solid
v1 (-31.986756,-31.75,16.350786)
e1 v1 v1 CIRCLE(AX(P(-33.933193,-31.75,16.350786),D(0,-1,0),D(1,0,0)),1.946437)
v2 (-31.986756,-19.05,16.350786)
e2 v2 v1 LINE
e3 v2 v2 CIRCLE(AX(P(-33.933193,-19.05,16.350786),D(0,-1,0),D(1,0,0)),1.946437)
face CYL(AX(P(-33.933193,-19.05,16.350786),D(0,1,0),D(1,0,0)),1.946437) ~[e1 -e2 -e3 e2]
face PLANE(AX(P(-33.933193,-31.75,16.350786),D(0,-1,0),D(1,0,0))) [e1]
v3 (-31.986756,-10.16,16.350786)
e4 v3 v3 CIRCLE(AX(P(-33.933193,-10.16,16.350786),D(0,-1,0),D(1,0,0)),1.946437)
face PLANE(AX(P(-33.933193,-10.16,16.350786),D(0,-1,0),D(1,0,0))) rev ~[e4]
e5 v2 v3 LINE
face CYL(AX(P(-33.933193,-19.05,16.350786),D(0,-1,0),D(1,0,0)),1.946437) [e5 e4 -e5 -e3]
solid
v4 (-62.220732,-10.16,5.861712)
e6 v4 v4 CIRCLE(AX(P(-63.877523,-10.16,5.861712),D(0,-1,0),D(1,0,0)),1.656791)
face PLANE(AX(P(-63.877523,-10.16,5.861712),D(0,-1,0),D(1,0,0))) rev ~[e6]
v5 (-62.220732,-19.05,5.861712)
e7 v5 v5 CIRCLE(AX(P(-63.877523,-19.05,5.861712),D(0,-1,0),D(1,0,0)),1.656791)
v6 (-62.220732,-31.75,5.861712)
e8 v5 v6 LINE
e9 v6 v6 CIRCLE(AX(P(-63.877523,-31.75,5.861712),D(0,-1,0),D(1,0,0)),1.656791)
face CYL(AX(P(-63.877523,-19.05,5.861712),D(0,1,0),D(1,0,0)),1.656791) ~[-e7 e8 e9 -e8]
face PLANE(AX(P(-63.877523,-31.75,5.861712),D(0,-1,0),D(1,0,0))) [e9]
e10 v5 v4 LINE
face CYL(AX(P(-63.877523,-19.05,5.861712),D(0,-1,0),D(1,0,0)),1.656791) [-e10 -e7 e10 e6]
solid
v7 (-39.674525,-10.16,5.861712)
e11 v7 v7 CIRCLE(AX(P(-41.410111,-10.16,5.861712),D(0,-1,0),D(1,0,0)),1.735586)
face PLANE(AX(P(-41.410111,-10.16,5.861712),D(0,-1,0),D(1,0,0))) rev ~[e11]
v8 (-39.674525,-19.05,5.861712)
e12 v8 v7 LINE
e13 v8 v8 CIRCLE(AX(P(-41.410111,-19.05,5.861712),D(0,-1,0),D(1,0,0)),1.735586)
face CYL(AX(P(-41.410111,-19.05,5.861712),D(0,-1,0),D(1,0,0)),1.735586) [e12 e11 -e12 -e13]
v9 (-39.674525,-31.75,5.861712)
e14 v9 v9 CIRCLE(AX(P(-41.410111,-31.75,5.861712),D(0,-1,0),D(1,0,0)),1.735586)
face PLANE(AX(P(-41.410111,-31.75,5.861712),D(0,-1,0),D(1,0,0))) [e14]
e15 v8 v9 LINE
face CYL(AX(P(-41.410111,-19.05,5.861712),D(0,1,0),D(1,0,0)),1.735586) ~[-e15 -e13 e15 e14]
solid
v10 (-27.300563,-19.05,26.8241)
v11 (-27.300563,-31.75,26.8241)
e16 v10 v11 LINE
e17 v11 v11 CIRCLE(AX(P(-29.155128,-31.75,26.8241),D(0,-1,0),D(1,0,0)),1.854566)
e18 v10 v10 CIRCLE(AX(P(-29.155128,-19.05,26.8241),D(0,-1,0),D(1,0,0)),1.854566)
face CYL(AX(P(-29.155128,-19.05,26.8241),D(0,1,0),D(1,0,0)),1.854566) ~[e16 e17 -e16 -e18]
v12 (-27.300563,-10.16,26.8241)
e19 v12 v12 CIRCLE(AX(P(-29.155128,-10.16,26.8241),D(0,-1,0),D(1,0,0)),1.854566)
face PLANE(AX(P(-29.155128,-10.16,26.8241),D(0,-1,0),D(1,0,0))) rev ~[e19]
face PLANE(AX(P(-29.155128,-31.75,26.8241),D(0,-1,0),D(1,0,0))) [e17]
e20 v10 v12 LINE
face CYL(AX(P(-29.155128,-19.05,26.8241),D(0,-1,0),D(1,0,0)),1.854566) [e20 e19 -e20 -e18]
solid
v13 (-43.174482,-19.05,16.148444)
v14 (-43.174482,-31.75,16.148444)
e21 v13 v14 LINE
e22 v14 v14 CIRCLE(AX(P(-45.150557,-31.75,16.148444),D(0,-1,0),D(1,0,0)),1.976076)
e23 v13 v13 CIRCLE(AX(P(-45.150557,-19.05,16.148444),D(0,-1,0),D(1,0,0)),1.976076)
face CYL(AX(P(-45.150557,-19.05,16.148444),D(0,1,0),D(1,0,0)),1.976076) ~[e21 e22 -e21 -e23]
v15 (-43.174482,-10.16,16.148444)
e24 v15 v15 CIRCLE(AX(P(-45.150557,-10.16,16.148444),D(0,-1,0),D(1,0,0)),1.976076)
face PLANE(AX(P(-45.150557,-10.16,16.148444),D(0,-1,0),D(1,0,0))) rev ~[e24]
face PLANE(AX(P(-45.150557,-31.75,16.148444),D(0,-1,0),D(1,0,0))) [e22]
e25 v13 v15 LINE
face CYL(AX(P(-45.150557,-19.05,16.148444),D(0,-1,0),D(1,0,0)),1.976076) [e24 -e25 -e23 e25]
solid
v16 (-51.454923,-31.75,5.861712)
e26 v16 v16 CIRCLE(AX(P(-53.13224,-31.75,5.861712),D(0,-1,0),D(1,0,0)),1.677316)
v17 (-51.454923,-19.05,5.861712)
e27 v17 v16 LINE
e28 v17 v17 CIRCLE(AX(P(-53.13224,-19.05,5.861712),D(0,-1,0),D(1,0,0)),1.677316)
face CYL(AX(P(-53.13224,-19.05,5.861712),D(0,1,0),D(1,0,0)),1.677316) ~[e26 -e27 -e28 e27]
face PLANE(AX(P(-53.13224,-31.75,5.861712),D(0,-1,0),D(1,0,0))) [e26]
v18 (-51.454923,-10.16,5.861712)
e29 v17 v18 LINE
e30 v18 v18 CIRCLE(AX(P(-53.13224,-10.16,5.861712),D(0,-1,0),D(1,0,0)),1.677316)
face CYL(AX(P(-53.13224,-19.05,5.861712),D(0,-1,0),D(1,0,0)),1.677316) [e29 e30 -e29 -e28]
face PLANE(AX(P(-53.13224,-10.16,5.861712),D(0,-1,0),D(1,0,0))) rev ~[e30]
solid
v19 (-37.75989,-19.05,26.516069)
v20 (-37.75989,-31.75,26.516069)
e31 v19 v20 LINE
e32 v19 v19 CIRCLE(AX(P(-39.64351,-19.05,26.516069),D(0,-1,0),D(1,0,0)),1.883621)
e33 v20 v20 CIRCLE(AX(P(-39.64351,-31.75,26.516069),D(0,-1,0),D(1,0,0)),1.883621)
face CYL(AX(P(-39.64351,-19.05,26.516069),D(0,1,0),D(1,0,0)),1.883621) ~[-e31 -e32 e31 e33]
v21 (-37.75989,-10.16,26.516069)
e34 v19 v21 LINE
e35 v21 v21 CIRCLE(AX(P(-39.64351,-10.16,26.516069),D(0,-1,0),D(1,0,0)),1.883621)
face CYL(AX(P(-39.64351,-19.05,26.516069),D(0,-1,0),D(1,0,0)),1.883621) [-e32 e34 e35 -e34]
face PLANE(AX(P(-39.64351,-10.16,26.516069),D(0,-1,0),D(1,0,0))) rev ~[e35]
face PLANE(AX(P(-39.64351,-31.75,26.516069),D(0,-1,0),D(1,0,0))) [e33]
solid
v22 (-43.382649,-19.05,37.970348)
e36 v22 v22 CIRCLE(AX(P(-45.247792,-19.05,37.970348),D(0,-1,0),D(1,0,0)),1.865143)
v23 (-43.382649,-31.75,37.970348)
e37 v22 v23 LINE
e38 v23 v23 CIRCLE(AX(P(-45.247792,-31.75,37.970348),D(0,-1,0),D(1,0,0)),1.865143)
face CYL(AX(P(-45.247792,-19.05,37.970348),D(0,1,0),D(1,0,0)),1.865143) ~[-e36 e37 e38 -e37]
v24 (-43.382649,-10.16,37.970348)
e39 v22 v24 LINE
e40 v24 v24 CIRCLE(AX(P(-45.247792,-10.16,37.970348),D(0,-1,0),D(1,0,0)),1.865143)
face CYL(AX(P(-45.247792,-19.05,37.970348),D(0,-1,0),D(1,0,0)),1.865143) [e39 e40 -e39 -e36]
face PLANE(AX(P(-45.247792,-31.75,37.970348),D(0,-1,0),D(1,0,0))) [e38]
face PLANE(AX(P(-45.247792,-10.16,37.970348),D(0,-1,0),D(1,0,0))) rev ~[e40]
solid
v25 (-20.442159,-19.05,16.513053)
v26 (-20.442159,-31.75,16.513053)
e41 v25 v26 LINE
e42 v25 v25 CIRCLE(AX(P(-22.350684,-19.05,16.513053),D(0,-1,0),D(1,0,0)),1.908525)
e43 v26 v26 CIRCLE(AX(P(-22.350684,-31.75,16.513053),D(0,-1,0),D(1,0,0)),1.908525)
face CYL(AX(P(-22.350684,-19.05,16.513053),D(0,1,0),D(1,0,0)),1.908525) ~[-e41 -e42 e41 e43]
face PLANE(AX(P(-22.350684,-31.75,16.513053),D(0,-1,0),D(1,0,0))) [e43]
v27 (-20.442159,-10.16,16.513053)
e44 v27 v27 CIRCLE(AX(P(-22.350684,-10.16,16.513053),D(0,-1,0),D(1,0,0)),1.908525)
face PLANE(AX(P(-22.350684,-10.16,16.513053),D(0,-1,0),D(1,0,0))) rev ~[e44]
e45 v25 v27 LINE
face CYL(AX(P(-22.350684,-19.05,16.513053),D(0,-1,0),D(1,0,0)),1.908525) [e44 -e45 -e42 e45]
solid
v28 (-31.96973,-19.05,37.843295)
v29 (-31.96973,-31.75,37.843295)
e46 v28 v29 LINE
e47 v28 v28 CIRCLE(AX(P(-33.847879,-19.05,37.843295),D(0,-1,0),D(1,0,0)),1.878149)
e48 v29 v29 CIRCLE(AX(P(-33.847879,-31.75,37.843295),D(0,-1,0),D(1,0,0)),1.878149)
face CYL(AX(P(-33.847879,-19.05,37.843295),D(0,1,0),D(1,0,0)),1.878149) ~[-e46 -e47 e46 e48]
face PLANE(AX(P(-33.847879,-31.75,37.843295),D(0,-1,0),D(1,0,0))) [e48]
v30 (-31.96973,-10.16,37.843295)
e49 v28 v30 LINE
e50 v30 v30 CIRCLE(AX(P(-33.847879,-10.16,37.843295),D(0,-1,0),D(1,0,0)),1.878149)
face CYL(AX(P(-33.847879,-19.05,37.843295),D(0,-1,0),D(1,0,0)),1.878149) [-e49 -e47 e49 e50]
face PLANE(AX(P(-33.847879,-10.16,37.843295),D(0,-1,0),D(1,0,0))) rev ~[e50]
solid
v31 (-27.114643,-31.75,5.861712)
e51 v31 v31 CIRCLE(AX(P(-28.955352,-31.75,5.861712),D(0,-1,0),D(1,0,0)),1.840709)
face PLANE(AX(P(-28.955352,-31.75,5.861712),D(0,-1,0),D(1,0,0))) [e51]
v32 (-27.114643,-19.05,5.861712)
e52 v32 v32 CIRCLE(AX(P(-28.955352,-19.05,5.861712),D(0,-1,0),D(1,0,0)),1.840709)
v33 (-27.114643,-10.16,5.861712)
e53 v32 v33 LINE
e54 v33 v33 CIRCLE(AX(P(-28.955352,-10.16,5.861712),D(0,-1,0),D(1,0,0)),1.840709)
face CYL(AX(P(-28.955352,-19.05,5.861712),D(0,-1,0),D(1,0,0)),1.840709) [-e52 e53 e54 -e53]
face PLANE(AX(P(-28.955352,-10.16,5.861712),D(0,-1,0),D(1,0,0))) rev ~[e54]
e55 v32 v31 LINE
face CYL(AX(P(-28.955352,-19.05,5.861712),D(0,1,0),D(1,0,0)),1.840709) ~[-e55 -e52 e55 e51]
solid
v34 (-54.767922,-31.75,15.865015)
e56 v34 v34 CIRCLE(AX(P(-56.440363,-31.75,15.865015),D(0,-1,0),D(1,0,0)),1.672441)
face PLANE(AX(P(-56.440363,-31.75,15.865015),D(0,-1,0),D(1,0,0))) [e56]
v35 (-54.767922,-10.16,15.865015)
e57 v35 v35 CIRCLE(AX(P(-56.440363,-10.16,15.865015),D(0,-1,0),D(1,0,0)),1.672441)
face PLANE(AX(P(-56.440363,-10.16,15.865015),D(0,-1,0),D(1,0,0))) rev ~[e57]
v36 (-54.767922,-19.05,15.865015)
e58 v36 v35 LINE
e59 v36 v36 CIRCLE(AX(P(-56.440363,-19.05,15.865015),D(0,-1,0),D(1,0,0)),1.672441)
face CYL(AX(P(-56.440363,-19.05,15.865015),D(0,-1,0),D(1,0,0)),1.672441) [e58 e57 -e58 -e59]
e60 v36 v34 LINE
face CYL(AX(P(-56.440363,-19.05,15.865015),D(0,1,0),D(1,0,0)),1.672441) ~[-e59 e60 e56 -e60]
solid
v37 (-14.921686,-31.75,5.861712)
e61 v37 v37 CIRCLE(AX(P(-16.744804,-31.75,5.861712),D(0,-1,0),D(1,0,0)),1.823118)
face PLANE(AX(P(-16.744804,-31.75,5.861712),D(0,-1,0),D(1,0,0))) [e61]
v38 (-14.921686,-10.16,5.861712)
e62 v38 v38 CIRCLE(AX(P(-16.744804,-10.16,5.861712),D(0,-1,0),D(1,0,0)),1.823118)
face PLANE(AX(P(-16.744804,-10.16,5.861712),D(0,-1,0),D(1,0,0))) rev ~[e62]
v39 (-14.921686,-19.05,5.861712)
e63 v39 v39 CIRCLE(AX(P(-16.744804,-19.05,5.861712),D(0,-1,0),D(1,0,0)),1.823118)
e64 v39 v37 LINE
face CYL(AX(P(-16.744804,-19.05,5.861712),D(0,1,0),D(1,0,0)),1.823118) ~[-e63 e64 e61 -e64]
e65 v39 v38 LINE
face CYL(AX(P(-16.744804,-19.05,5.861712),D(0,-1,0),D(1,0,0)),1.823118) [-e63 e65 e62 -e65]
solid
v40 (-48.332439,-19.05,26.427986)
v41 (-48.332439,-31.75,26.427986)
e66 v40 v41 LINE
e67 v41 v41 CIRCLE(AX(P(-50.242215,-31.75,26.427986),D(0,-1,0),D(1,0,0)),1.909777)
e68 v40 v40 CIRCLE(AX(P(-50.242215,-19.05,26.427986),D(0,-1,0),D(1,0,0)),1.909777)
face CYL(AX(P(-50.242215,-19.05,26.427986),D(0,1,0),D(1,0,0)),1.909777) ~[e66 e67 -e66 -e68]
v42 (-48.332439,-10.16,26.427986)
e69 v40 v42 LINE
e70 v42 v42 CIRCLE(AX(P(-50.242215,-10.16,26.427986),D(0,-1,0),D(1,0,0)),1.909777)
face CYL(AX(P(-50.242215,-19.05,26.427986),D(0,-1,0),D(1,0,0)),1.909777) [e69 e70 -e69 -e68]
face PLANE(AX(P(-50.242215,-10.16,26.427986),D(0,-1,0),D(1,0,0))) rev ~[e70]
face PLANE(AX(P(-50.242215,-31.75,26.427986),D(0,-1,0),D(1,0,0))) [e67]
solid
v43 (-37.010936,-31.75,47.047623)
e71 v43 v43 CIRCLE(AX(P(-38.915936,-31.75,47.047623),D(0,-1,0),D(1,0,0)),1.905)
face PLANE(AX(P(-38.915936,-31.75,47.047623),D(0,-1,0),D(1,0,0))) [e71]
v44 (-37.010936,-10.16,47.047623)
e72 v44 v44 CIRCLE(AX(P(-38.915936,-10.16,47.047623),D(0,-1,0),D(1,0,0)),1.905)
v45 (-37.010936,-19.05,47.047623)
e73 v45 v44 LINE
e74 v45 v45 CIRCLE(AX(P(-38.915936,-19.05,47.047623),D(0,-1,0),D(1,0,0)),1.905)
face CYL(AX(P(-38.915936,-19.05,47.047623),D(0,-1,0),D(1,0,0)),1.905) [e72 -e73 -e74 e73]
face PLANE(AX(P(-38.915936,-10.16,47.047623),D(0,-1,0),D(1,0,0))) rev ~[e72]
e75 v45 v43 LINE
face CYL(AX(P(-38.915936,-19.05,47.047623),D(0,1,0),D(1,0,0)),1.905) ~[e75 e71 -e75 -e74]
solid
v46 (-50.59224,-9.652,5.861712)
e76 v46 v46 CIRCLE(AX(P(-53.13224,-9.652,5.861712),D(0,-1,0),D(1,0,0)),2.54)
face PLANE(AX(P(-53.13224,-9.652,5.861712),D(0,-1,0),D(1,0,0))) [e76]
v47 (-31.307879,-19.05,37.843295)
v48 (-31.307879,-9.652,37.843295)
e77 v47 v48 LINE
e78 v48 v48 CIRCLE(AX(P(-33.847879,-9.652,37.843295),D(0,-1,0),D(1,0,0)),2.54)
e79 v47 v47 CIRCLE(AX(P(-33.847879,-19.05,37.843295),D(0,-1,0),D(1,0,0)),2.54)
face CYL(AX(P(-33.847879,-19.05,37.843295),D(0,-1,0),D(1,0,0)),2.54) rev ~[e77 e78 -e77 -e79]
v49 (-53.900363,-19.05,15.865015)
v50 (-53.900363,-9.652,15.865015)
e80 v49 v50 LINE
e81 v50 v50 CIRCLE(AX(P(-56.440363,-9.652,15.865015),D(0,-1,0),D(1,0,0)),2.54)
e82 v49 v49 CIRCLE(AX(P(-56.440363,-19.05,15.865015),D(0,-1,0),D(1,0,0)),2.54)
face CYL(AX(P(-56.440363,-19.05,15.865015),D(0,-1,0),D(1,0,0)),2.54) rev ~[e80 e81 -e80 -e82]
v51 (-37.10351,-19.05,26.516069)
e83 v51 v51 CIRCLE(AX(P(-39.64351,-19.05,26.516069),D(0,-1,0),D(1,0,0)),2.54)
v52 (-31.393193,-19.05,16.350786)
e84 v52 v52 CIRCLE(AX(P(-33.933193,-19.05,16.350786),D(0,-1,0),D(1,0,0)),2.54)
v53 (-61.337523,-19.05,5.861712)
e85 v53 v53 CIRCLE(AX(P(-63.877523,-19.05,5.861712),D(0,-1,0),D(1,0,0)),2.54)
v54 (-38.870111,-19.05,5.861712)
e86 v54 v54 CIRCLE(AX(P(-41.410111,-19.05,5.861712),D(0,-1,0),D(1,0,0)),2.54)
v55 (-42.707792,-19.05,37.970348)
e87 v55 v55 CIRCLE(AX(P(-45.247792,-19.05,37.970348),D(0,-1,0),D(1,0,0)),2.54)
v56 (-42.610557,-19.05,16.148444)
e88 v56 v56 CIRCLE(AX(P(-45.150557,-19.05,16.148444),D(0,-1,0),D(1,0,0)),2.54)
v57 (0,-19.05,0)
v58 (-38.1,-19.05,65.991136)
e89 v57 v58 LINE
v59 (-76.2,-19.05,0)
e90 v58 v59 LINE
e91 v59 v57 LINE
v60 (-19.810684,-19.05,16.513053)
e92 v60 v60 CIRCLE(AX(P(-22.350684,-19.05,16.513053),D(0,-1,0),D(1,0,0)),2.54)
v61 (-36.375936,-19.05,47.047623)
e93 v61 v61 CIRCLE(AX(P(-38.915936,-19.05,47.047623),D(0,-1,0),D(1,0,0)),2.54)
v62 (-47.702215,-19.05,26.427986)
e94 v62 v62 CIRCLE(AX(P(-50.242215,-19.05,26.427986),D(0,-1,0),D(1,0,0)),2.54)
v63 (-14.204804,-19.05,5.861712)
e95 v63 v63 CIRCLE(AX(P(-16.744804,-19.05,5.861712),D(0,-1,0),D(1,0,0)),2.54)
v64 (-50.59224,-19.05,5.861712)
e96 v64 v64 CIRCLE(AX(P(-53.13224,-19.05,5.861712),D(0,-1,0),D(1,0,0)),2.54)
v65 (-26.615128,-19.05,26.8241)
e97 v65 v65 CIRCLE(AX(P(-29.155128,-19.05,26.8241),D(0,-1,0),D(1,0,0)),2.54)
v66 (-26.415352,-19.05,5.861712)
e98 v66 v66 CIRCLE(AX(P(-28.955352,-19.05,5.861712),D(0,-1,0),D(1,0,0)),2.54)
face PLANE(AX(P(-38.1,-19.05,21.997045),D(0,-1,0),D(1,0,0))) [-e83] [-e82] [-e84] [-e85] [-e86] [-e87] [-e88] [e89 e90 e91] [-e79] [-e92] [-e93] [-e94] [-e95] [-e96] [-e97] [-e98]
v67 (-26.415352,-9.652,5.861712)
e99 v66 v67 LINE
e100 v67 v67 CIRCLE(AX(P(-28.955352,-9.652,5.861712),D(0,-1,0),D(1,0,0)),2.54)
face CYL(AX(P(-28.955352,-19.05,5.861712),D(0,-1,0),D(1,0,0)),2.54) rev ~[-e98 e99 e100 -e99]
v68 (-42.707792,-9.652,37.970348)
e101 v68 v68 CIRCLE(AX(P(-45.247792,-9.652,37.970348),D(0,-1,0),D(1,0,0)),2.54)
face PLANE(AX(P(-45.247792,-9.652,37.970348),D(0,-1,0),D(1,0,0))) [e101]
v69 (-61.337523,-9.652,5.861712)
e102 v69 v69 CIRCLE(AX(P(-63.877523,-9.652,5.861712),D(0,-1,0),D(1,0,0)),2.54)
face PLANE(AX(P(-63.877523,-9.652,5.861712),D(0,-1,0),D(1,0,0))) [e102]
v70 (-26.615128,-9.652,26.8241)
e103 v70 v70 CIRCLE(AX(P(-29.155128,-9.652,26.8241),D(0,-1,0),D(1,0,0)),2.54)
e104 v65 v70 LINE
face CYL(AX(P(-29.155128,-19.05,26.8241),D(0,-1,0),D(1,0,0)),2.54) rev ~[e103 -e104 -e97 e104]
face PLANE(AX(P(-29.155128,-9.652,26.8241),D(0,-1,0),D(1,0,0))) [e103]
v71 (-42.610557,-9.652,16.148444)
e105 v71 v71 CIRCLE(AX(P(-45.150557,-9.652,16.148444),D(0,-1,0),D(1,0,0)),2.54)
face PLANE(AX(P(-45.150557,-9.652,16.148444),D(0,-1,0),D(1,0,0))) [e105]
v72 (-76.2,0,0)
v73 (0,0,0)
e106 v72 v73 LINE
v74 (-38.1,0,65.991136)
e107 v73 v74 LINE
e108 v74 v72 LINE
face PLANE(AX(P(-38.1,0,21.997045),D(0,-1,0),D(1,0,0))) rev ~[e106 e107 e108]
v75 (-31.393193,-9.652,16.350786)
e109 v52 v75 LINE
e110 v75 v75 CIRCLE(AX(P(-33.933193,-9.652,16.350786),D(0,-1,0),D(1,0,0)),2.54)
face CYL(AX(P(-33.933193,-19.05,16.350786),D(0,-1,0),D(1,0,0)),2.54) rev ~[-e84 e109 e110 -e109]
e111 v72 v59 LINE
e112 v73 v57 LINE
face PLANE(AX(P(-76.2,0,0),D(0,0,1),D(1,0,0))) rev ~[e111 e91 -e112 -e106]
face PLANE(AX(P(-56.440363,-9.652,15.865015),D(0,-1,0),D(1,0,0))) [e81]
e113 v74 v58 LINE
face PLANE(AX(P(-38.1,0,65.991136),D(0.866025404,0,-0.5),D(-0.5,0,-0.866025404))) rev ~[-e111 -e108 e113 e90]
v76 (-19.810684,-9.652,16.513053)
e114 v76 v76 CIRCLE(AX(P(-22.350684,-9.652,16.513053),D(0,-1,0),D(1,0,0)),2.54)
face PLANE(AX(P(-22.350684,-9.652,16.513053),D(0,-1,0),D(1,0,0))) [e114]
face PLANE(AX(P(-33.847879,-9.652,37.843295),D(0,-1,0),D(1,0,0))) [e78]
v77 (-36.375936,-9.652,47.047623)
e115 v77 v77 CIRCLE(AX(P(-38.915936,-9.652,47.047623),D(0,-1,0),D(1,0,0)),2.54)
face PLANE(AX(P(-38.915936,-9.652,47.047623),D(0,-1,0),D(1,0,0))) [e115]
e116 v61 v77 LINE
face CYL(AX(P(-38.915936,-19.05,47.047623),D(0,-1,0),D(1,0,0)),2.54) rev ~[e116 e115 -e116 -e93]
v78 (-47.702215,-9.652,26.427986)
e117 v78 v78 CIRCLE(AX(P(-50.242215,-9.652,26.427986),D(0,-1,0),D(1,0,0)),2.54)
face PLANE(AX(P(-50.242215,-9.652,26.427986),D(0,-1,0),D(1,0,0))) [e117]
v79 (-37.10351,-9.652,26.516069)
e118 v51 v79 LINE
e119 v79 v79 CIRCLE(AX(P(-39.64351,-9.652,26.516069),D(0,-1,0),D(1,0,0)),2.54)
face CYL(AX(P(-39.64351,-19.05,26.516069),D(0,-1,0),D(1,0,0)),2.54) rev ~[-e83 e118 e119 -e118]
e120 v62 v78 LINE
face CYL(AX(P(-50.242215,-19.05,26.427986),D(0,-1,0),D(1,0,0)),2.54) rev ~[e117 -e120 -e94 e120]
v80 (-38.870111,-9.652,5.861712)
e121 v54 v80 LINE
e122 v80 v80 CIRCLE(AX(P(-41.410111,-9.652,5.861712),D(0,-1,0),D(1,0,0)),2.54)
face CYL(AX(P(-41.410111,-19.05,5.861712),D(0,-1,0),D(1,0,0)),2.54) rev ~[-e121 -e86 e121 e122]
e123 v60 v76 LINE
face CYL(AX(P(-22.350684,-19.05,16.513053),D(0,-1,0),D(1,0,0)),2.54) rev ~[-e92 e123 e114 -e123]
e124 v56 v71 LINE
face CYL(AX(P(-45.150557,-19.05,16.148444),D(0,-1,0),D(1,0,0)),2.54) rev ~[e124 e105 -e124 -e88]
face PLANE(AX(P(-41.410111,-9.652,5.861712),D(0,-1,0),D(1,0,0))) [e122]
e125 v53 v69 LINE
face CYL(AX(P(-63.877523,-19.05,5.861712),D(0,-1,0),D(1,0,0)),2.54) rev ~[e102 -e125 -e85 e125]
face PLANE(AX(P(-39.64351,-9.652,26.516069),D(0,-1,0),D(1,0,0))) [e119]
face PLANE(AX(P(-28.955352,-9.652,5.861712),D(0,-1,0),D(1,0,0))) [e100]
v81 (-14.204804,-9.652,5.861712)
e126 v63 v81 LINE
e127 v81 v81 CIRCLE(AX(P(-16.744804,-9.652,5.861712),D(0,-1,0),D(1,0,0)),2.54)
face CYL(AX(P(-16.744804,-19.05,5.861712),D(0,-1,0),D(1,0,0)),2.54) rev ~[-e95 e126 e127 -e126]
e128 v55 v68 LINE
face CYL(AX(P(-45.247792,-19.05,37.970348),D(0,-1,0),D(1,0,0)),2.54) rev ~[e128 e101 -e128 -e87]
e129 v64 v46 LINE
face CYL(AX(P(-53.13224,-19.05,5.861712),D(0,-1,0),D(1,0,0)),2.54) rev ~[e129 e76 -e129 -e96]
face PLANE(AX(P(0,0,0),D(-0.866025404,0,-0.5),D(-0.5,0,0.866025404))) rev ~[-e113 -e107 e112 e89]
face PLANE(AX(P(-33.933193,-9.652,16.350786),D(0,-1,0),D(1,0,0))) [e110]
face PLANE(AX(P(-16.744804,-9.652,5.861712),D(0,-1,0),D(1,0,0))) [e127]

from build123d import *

# Parameters (mm, degrees)
F1_DEPTH       = 19.05
F2_R           = 2.54
F3_DEPTH       = 9.398
F4_R           = 2.54
F5_DEPTH       = 9.398
F6_R           = 2.54
F7_DEPTH       = 9.398
F8_R           = 2.54
F9_DEPTH       = 9.398
F10_R          = 2.54
F11_DEPTH      = 9.398
F12_R          = 1.905
F13_DEPTH      = 8.89
F13_DEPTH_BACK = 12.7
F14_R          = 1.8231175901
F15_DEPTH      = 8.89
F15_DEPTH_BACK = 12.7
F14_R_2        = 1.8407088367
F14_R_3        = 1.7355856223
F14_R_4        = 1.6773164988
F14_R_5        = 1.6567908002
F14_R_6        = 1.8651431194
F14_R_7        = 1.8781487424
F14_R_8        = 1.9097768469
F14_R_9        = 1.8836206477
F14_R_10       = 1.6724408245
F14_R_11       = 1.9760756437
F14_R_12       = 1.9464372374
F14_R_13       = 1.9085246281
F14_R_14       = 1.8545655977


with BuildPart() as f1:
    # F0 (on Front) → F1 (new body)
    with BuildSketch(Plane.XZ):
        Polygon((-38.1, 65.9911357684), (-76.2, 0), (0, 0), align=None)
    extrude(amount=F1_DEPTH)

    # F2 (on face) → F3 (cut)
    with BuildSketch(Plane.XZ.offset(19.05)):
        with Locations((-63.8775229454, 5.8617116883)):
            Circle(F2_R)
        with Locations((-53.1322397292, 5.8617116883)):
            Circle(F2_R)
        with Locations((-41.4101108909, 5.8617116883)):
            Circle(F2_R)
        with Locations((-28.9553515613, 5.8617116883)):
            Circle(F2_R)
        with Locations((-16.7448036373, 5.8617116883)):
            Circle(F2_R)
    extrude(amount=-F3_DEPTH, mode=Mode.SUBTRACT)

    # F4 (on face) → F5 (cut)
    with BuildSketch(Plane.XZ.offset(19.05)):
        with Locations((-22.3506838083, 16.5130533278)):
            Circle(F4_R)
        with Locations((-33.9331932472, 16.3507863745)):
            Circle(F4_R)
        with Locations((-45.1505574905, 16.148444045)):
            Circle(F4_R)
        with Locations((-56.4403630179, 15.8650148127)):
            Circle(F4_R)
    extrude(amount=-F5_DEPTH, mode=Mode.SUBTRACT)

    # F6 (on face) → F7 (cut)
    with BuildSketch(Plane.XZ.offset(19.05)):
        with Locations((-50.242215395, 26.4279861003)):
            Circle(F6_R)
        with Locations((-39.643510285, 26.5160694736)):
            Circle(F6_R)
        with Locations((-29.1551282548, 26.8241004757)):
            Circle(F6_R)
    extrude(amount=-F7_DEPTH, mode=Mode.SUBTRACT)

    # F8 (on face) → F9 (cut)
    with BuildSketch(Plane.XZ.offset(19.05)):
        with Locations((-45.2477921476, 37.9703484034)):
            Circle(F8_R)
        with Locations((-33.8478787245, 37.8432946619)):
            Circle(F8_R)
    extrude(amount=-F9_DEPTH, mode=Mode.SUBTRACT)

    # F10 (on face) → F11 (cut)
    with BuildSketch(Plane.XZ.offset(19.05)):
        with Locations((-38.9159359038, 47.0476225019)):
            Circle(F10_R)
    extrude(amount=-F11_DEPTH, mode=Mode.SUBTRACT)


with BuildPart() as f13:
    # F12 (on face) → F13 (new body, two sides)
    with BuildSketch(Plane.XZ.offset(19.05)) as f13_sk:
        with Locations((-38.9159359038, 47.0476225019)):
            Circle(F12_R)
    extrude(amount=-F13_DEPTH)
    extrude(f13_sk.sketch, amount=F13_DEPTH_BACK)


with BuildPart() as f15:
    # F14 (on face) → F15 (new body, two sides)
    with BuildSketch(Plane.XZ.offset(19.05)) as f15_sk:
        with Locations((-16.7448036373, 5.8617116883)):
            Circle(F14_R)
    extrude(amount=-F15_DEPTH)
    extrude(f15_sk.sketch, amount=F15_DEPTH_BACK)


with BuildPart() as f15b:
    # F14 (on face) → F15, piece 2 (new body, two sides)
    with BuildSketch(Plane.XZ.offset(19.05)) as f15_2_sk:
        with Locations((-28.9553515613, 5.8617116883)):
            Circle(F14_R_2)
    extrude(amount=-F15_DEPTH)
    extrude(f15_2_sk.sketch, amount=F15_DEPTH_BACK)


with BuildPart() as f15c:
    # F14 (on face) → F15, piece 3 (new body, two sides)
    with BuildSketch(Plane.XZ.offset(19.05)) as f15_3_sk:
        with Locations((-41.4101108909, 5.8617116883)):
            Circle(F14_R_3)
    extrude(amount=-F15_DEPTH)
    extrude(f15_3_sk.sketch, amount=F15_DEPTH_BACK)


with BuildPart() as f15d:
    # F14 (on face) → F15, piece 4 (new body, two sides)
    with BuildSketch(Plane.XZ.offset(19.05)) as f15_4_sk:
        with Locations((-53.1322397292, 5.8617116883)):
            Circle(F14_R_4)
    extrude(amount=-F15_DEPTH)
    extrude(f15_4_sk.sketch, amount=F15_DEPTH_BACK)


with BuildPart() as f15e:
    # F14 (on face) → F15, piece 5 (new body, two sides)
    with BuildSketch(Plane.XZ.offset(19.05)) as f15_5_sk:
        with Locations((-63.8775229454, 5.8617116883)):
            Circle(F14_R_5)
    extrude(amount=-F15_DEPTH)
    extrude(f15_5_sk.sketch, amount=F15_DEPTH_BACK)


with BuildPart() as f15f:
    # F14 (on face) → F15, piece 6 (new body, two sides)
    with BuildSketch(Plane.XZ.offset(19.05)) as f15_6_sk:
        with Locations((-45.2477921476, 37.9703484034)):
            Circle(F14_R_6)
    extrude(amount=-F15_DEPTH)
    extrude(f15_6_sk.sketch, amount=F15_DEPTH_BACK)


with BuildPart() as f15g:
    # F14 (on face) → F15, piece 7 (new body, two sides)
    with BuildSketch(Plane.XZ.offset(19.05)) as f15_7_sk:
        with Locations((-33.8478787245, 37.8432946619)):
            Circle(F14_R_7)
    extrude(amount=-F15_DEPTH)
    extrude(f15_7_sk.sketch, amount=F15_DEPTH_BACK)


with BuildPart() as f15h:
    # F14 (on face) → F15, piece 8 (new body, two sides)
    with BuildSketch(Plane.XZ.offset(19.05)) as f15_8_sk:
        with Locations((-50.242215395, 26.4279861003)):
            Circle(F14_R_8)
    extrude(amount=-F15_DEPTH)
    extrude(f15_8_sk.sketch, amount=F15_DEPTH_BACK)


with BuildPart() as f15i:
    # F14 (on face) → F15, piece 9 (new body, two sides)
    with BuildSketch(Plane.XZ.offset(19.05)) as f15_9_sk:
        with Locations((-39.643510285, 26.5160694736)):
            Circle(F14_R_9)
    extrude(amount=-F15_DEPTH)
    extrude(f15_9_sk.sketch, amount=F15_DEPTH_BACK)


with BuildPart() as f15j:
    # F14 (on face) → F15, piece 10 (new body, two sides)
    with BuildSketch(Plane.XZ.offset(19.05)) as f15_10_sk:
        with Locations((-56.4403630179, 15.8650148127)):
            Circle(F14_R_10)
    extrude(amount=-F15_DEPTH)
    extrude(f15_10_sk.sketch, amount=F15_DEPTH_BACK)


with BuildPart() as f15k:
    # F14 (on face) → F15, piece 11 (new body, two sides)
    with BuildSketch(Plane.XZ.offset(19.05)) as f15_11_sk:
        with Locations((-45.1505574905, 16.148444045)):
            Circle(F14_R_11)
    extrude(amount=-F15_DEPTH)
    extrude(f15_11_sk.sketch, amount=F15_DEPTH_BACK)


with BuildPart() as f15l:
    # F14 (on face) → F15, piece 12 (new body, two sides)
    with BuildSketch(Plane.XZ.offset(19.05)) as f15_12_sk:
        with Locations((-33.9331932472, 16.3507863745)):
            Circle(F14_R_12)
    extrude(amount=-F15_DEPTH)
    extrude(f15_12_sk.sketch, amount=F15_DEPTH_BACK)


with BuildPart() as f15m:
    # F14 (on face) → F15, piece 13 (new body, two sides)
    with BuildSketch(Plane.XZ.offset(19.05)) as f15_13_sk:
        with Locations((-22.3506838083, 16.5130533278)):
            Circle(F14_R_13)
    extrude(amount=-F15_DEPTH)
    extrude(f15_13_sk.sketch, amount=F15_DEPTH_BACK)


with BuildPart() as f15n:
    # F14 (on face) → F15, piece 14 (new body, two sides)
    with BuildSketch(Plane.XZ.offset(19.05)) as f15_14_sk:
        with Locations((-29.1551282548, 26.8241004757)):
            Circle(F14_R_14)
    extrude(amount=-F15_DEPTH)
    extrude(f15_14_sk.sketch, amount=F15_DEPTH_BACK)


solid = Compound([f1.part, f13.part, f15.part, f15b.part, f15c.part, f15d.part, f15e.part, f15f.part, f15g.part, f15h.part, f15i.part, f15j.part, f15k.part, f15l.part, f15m.part, f15n.part])
